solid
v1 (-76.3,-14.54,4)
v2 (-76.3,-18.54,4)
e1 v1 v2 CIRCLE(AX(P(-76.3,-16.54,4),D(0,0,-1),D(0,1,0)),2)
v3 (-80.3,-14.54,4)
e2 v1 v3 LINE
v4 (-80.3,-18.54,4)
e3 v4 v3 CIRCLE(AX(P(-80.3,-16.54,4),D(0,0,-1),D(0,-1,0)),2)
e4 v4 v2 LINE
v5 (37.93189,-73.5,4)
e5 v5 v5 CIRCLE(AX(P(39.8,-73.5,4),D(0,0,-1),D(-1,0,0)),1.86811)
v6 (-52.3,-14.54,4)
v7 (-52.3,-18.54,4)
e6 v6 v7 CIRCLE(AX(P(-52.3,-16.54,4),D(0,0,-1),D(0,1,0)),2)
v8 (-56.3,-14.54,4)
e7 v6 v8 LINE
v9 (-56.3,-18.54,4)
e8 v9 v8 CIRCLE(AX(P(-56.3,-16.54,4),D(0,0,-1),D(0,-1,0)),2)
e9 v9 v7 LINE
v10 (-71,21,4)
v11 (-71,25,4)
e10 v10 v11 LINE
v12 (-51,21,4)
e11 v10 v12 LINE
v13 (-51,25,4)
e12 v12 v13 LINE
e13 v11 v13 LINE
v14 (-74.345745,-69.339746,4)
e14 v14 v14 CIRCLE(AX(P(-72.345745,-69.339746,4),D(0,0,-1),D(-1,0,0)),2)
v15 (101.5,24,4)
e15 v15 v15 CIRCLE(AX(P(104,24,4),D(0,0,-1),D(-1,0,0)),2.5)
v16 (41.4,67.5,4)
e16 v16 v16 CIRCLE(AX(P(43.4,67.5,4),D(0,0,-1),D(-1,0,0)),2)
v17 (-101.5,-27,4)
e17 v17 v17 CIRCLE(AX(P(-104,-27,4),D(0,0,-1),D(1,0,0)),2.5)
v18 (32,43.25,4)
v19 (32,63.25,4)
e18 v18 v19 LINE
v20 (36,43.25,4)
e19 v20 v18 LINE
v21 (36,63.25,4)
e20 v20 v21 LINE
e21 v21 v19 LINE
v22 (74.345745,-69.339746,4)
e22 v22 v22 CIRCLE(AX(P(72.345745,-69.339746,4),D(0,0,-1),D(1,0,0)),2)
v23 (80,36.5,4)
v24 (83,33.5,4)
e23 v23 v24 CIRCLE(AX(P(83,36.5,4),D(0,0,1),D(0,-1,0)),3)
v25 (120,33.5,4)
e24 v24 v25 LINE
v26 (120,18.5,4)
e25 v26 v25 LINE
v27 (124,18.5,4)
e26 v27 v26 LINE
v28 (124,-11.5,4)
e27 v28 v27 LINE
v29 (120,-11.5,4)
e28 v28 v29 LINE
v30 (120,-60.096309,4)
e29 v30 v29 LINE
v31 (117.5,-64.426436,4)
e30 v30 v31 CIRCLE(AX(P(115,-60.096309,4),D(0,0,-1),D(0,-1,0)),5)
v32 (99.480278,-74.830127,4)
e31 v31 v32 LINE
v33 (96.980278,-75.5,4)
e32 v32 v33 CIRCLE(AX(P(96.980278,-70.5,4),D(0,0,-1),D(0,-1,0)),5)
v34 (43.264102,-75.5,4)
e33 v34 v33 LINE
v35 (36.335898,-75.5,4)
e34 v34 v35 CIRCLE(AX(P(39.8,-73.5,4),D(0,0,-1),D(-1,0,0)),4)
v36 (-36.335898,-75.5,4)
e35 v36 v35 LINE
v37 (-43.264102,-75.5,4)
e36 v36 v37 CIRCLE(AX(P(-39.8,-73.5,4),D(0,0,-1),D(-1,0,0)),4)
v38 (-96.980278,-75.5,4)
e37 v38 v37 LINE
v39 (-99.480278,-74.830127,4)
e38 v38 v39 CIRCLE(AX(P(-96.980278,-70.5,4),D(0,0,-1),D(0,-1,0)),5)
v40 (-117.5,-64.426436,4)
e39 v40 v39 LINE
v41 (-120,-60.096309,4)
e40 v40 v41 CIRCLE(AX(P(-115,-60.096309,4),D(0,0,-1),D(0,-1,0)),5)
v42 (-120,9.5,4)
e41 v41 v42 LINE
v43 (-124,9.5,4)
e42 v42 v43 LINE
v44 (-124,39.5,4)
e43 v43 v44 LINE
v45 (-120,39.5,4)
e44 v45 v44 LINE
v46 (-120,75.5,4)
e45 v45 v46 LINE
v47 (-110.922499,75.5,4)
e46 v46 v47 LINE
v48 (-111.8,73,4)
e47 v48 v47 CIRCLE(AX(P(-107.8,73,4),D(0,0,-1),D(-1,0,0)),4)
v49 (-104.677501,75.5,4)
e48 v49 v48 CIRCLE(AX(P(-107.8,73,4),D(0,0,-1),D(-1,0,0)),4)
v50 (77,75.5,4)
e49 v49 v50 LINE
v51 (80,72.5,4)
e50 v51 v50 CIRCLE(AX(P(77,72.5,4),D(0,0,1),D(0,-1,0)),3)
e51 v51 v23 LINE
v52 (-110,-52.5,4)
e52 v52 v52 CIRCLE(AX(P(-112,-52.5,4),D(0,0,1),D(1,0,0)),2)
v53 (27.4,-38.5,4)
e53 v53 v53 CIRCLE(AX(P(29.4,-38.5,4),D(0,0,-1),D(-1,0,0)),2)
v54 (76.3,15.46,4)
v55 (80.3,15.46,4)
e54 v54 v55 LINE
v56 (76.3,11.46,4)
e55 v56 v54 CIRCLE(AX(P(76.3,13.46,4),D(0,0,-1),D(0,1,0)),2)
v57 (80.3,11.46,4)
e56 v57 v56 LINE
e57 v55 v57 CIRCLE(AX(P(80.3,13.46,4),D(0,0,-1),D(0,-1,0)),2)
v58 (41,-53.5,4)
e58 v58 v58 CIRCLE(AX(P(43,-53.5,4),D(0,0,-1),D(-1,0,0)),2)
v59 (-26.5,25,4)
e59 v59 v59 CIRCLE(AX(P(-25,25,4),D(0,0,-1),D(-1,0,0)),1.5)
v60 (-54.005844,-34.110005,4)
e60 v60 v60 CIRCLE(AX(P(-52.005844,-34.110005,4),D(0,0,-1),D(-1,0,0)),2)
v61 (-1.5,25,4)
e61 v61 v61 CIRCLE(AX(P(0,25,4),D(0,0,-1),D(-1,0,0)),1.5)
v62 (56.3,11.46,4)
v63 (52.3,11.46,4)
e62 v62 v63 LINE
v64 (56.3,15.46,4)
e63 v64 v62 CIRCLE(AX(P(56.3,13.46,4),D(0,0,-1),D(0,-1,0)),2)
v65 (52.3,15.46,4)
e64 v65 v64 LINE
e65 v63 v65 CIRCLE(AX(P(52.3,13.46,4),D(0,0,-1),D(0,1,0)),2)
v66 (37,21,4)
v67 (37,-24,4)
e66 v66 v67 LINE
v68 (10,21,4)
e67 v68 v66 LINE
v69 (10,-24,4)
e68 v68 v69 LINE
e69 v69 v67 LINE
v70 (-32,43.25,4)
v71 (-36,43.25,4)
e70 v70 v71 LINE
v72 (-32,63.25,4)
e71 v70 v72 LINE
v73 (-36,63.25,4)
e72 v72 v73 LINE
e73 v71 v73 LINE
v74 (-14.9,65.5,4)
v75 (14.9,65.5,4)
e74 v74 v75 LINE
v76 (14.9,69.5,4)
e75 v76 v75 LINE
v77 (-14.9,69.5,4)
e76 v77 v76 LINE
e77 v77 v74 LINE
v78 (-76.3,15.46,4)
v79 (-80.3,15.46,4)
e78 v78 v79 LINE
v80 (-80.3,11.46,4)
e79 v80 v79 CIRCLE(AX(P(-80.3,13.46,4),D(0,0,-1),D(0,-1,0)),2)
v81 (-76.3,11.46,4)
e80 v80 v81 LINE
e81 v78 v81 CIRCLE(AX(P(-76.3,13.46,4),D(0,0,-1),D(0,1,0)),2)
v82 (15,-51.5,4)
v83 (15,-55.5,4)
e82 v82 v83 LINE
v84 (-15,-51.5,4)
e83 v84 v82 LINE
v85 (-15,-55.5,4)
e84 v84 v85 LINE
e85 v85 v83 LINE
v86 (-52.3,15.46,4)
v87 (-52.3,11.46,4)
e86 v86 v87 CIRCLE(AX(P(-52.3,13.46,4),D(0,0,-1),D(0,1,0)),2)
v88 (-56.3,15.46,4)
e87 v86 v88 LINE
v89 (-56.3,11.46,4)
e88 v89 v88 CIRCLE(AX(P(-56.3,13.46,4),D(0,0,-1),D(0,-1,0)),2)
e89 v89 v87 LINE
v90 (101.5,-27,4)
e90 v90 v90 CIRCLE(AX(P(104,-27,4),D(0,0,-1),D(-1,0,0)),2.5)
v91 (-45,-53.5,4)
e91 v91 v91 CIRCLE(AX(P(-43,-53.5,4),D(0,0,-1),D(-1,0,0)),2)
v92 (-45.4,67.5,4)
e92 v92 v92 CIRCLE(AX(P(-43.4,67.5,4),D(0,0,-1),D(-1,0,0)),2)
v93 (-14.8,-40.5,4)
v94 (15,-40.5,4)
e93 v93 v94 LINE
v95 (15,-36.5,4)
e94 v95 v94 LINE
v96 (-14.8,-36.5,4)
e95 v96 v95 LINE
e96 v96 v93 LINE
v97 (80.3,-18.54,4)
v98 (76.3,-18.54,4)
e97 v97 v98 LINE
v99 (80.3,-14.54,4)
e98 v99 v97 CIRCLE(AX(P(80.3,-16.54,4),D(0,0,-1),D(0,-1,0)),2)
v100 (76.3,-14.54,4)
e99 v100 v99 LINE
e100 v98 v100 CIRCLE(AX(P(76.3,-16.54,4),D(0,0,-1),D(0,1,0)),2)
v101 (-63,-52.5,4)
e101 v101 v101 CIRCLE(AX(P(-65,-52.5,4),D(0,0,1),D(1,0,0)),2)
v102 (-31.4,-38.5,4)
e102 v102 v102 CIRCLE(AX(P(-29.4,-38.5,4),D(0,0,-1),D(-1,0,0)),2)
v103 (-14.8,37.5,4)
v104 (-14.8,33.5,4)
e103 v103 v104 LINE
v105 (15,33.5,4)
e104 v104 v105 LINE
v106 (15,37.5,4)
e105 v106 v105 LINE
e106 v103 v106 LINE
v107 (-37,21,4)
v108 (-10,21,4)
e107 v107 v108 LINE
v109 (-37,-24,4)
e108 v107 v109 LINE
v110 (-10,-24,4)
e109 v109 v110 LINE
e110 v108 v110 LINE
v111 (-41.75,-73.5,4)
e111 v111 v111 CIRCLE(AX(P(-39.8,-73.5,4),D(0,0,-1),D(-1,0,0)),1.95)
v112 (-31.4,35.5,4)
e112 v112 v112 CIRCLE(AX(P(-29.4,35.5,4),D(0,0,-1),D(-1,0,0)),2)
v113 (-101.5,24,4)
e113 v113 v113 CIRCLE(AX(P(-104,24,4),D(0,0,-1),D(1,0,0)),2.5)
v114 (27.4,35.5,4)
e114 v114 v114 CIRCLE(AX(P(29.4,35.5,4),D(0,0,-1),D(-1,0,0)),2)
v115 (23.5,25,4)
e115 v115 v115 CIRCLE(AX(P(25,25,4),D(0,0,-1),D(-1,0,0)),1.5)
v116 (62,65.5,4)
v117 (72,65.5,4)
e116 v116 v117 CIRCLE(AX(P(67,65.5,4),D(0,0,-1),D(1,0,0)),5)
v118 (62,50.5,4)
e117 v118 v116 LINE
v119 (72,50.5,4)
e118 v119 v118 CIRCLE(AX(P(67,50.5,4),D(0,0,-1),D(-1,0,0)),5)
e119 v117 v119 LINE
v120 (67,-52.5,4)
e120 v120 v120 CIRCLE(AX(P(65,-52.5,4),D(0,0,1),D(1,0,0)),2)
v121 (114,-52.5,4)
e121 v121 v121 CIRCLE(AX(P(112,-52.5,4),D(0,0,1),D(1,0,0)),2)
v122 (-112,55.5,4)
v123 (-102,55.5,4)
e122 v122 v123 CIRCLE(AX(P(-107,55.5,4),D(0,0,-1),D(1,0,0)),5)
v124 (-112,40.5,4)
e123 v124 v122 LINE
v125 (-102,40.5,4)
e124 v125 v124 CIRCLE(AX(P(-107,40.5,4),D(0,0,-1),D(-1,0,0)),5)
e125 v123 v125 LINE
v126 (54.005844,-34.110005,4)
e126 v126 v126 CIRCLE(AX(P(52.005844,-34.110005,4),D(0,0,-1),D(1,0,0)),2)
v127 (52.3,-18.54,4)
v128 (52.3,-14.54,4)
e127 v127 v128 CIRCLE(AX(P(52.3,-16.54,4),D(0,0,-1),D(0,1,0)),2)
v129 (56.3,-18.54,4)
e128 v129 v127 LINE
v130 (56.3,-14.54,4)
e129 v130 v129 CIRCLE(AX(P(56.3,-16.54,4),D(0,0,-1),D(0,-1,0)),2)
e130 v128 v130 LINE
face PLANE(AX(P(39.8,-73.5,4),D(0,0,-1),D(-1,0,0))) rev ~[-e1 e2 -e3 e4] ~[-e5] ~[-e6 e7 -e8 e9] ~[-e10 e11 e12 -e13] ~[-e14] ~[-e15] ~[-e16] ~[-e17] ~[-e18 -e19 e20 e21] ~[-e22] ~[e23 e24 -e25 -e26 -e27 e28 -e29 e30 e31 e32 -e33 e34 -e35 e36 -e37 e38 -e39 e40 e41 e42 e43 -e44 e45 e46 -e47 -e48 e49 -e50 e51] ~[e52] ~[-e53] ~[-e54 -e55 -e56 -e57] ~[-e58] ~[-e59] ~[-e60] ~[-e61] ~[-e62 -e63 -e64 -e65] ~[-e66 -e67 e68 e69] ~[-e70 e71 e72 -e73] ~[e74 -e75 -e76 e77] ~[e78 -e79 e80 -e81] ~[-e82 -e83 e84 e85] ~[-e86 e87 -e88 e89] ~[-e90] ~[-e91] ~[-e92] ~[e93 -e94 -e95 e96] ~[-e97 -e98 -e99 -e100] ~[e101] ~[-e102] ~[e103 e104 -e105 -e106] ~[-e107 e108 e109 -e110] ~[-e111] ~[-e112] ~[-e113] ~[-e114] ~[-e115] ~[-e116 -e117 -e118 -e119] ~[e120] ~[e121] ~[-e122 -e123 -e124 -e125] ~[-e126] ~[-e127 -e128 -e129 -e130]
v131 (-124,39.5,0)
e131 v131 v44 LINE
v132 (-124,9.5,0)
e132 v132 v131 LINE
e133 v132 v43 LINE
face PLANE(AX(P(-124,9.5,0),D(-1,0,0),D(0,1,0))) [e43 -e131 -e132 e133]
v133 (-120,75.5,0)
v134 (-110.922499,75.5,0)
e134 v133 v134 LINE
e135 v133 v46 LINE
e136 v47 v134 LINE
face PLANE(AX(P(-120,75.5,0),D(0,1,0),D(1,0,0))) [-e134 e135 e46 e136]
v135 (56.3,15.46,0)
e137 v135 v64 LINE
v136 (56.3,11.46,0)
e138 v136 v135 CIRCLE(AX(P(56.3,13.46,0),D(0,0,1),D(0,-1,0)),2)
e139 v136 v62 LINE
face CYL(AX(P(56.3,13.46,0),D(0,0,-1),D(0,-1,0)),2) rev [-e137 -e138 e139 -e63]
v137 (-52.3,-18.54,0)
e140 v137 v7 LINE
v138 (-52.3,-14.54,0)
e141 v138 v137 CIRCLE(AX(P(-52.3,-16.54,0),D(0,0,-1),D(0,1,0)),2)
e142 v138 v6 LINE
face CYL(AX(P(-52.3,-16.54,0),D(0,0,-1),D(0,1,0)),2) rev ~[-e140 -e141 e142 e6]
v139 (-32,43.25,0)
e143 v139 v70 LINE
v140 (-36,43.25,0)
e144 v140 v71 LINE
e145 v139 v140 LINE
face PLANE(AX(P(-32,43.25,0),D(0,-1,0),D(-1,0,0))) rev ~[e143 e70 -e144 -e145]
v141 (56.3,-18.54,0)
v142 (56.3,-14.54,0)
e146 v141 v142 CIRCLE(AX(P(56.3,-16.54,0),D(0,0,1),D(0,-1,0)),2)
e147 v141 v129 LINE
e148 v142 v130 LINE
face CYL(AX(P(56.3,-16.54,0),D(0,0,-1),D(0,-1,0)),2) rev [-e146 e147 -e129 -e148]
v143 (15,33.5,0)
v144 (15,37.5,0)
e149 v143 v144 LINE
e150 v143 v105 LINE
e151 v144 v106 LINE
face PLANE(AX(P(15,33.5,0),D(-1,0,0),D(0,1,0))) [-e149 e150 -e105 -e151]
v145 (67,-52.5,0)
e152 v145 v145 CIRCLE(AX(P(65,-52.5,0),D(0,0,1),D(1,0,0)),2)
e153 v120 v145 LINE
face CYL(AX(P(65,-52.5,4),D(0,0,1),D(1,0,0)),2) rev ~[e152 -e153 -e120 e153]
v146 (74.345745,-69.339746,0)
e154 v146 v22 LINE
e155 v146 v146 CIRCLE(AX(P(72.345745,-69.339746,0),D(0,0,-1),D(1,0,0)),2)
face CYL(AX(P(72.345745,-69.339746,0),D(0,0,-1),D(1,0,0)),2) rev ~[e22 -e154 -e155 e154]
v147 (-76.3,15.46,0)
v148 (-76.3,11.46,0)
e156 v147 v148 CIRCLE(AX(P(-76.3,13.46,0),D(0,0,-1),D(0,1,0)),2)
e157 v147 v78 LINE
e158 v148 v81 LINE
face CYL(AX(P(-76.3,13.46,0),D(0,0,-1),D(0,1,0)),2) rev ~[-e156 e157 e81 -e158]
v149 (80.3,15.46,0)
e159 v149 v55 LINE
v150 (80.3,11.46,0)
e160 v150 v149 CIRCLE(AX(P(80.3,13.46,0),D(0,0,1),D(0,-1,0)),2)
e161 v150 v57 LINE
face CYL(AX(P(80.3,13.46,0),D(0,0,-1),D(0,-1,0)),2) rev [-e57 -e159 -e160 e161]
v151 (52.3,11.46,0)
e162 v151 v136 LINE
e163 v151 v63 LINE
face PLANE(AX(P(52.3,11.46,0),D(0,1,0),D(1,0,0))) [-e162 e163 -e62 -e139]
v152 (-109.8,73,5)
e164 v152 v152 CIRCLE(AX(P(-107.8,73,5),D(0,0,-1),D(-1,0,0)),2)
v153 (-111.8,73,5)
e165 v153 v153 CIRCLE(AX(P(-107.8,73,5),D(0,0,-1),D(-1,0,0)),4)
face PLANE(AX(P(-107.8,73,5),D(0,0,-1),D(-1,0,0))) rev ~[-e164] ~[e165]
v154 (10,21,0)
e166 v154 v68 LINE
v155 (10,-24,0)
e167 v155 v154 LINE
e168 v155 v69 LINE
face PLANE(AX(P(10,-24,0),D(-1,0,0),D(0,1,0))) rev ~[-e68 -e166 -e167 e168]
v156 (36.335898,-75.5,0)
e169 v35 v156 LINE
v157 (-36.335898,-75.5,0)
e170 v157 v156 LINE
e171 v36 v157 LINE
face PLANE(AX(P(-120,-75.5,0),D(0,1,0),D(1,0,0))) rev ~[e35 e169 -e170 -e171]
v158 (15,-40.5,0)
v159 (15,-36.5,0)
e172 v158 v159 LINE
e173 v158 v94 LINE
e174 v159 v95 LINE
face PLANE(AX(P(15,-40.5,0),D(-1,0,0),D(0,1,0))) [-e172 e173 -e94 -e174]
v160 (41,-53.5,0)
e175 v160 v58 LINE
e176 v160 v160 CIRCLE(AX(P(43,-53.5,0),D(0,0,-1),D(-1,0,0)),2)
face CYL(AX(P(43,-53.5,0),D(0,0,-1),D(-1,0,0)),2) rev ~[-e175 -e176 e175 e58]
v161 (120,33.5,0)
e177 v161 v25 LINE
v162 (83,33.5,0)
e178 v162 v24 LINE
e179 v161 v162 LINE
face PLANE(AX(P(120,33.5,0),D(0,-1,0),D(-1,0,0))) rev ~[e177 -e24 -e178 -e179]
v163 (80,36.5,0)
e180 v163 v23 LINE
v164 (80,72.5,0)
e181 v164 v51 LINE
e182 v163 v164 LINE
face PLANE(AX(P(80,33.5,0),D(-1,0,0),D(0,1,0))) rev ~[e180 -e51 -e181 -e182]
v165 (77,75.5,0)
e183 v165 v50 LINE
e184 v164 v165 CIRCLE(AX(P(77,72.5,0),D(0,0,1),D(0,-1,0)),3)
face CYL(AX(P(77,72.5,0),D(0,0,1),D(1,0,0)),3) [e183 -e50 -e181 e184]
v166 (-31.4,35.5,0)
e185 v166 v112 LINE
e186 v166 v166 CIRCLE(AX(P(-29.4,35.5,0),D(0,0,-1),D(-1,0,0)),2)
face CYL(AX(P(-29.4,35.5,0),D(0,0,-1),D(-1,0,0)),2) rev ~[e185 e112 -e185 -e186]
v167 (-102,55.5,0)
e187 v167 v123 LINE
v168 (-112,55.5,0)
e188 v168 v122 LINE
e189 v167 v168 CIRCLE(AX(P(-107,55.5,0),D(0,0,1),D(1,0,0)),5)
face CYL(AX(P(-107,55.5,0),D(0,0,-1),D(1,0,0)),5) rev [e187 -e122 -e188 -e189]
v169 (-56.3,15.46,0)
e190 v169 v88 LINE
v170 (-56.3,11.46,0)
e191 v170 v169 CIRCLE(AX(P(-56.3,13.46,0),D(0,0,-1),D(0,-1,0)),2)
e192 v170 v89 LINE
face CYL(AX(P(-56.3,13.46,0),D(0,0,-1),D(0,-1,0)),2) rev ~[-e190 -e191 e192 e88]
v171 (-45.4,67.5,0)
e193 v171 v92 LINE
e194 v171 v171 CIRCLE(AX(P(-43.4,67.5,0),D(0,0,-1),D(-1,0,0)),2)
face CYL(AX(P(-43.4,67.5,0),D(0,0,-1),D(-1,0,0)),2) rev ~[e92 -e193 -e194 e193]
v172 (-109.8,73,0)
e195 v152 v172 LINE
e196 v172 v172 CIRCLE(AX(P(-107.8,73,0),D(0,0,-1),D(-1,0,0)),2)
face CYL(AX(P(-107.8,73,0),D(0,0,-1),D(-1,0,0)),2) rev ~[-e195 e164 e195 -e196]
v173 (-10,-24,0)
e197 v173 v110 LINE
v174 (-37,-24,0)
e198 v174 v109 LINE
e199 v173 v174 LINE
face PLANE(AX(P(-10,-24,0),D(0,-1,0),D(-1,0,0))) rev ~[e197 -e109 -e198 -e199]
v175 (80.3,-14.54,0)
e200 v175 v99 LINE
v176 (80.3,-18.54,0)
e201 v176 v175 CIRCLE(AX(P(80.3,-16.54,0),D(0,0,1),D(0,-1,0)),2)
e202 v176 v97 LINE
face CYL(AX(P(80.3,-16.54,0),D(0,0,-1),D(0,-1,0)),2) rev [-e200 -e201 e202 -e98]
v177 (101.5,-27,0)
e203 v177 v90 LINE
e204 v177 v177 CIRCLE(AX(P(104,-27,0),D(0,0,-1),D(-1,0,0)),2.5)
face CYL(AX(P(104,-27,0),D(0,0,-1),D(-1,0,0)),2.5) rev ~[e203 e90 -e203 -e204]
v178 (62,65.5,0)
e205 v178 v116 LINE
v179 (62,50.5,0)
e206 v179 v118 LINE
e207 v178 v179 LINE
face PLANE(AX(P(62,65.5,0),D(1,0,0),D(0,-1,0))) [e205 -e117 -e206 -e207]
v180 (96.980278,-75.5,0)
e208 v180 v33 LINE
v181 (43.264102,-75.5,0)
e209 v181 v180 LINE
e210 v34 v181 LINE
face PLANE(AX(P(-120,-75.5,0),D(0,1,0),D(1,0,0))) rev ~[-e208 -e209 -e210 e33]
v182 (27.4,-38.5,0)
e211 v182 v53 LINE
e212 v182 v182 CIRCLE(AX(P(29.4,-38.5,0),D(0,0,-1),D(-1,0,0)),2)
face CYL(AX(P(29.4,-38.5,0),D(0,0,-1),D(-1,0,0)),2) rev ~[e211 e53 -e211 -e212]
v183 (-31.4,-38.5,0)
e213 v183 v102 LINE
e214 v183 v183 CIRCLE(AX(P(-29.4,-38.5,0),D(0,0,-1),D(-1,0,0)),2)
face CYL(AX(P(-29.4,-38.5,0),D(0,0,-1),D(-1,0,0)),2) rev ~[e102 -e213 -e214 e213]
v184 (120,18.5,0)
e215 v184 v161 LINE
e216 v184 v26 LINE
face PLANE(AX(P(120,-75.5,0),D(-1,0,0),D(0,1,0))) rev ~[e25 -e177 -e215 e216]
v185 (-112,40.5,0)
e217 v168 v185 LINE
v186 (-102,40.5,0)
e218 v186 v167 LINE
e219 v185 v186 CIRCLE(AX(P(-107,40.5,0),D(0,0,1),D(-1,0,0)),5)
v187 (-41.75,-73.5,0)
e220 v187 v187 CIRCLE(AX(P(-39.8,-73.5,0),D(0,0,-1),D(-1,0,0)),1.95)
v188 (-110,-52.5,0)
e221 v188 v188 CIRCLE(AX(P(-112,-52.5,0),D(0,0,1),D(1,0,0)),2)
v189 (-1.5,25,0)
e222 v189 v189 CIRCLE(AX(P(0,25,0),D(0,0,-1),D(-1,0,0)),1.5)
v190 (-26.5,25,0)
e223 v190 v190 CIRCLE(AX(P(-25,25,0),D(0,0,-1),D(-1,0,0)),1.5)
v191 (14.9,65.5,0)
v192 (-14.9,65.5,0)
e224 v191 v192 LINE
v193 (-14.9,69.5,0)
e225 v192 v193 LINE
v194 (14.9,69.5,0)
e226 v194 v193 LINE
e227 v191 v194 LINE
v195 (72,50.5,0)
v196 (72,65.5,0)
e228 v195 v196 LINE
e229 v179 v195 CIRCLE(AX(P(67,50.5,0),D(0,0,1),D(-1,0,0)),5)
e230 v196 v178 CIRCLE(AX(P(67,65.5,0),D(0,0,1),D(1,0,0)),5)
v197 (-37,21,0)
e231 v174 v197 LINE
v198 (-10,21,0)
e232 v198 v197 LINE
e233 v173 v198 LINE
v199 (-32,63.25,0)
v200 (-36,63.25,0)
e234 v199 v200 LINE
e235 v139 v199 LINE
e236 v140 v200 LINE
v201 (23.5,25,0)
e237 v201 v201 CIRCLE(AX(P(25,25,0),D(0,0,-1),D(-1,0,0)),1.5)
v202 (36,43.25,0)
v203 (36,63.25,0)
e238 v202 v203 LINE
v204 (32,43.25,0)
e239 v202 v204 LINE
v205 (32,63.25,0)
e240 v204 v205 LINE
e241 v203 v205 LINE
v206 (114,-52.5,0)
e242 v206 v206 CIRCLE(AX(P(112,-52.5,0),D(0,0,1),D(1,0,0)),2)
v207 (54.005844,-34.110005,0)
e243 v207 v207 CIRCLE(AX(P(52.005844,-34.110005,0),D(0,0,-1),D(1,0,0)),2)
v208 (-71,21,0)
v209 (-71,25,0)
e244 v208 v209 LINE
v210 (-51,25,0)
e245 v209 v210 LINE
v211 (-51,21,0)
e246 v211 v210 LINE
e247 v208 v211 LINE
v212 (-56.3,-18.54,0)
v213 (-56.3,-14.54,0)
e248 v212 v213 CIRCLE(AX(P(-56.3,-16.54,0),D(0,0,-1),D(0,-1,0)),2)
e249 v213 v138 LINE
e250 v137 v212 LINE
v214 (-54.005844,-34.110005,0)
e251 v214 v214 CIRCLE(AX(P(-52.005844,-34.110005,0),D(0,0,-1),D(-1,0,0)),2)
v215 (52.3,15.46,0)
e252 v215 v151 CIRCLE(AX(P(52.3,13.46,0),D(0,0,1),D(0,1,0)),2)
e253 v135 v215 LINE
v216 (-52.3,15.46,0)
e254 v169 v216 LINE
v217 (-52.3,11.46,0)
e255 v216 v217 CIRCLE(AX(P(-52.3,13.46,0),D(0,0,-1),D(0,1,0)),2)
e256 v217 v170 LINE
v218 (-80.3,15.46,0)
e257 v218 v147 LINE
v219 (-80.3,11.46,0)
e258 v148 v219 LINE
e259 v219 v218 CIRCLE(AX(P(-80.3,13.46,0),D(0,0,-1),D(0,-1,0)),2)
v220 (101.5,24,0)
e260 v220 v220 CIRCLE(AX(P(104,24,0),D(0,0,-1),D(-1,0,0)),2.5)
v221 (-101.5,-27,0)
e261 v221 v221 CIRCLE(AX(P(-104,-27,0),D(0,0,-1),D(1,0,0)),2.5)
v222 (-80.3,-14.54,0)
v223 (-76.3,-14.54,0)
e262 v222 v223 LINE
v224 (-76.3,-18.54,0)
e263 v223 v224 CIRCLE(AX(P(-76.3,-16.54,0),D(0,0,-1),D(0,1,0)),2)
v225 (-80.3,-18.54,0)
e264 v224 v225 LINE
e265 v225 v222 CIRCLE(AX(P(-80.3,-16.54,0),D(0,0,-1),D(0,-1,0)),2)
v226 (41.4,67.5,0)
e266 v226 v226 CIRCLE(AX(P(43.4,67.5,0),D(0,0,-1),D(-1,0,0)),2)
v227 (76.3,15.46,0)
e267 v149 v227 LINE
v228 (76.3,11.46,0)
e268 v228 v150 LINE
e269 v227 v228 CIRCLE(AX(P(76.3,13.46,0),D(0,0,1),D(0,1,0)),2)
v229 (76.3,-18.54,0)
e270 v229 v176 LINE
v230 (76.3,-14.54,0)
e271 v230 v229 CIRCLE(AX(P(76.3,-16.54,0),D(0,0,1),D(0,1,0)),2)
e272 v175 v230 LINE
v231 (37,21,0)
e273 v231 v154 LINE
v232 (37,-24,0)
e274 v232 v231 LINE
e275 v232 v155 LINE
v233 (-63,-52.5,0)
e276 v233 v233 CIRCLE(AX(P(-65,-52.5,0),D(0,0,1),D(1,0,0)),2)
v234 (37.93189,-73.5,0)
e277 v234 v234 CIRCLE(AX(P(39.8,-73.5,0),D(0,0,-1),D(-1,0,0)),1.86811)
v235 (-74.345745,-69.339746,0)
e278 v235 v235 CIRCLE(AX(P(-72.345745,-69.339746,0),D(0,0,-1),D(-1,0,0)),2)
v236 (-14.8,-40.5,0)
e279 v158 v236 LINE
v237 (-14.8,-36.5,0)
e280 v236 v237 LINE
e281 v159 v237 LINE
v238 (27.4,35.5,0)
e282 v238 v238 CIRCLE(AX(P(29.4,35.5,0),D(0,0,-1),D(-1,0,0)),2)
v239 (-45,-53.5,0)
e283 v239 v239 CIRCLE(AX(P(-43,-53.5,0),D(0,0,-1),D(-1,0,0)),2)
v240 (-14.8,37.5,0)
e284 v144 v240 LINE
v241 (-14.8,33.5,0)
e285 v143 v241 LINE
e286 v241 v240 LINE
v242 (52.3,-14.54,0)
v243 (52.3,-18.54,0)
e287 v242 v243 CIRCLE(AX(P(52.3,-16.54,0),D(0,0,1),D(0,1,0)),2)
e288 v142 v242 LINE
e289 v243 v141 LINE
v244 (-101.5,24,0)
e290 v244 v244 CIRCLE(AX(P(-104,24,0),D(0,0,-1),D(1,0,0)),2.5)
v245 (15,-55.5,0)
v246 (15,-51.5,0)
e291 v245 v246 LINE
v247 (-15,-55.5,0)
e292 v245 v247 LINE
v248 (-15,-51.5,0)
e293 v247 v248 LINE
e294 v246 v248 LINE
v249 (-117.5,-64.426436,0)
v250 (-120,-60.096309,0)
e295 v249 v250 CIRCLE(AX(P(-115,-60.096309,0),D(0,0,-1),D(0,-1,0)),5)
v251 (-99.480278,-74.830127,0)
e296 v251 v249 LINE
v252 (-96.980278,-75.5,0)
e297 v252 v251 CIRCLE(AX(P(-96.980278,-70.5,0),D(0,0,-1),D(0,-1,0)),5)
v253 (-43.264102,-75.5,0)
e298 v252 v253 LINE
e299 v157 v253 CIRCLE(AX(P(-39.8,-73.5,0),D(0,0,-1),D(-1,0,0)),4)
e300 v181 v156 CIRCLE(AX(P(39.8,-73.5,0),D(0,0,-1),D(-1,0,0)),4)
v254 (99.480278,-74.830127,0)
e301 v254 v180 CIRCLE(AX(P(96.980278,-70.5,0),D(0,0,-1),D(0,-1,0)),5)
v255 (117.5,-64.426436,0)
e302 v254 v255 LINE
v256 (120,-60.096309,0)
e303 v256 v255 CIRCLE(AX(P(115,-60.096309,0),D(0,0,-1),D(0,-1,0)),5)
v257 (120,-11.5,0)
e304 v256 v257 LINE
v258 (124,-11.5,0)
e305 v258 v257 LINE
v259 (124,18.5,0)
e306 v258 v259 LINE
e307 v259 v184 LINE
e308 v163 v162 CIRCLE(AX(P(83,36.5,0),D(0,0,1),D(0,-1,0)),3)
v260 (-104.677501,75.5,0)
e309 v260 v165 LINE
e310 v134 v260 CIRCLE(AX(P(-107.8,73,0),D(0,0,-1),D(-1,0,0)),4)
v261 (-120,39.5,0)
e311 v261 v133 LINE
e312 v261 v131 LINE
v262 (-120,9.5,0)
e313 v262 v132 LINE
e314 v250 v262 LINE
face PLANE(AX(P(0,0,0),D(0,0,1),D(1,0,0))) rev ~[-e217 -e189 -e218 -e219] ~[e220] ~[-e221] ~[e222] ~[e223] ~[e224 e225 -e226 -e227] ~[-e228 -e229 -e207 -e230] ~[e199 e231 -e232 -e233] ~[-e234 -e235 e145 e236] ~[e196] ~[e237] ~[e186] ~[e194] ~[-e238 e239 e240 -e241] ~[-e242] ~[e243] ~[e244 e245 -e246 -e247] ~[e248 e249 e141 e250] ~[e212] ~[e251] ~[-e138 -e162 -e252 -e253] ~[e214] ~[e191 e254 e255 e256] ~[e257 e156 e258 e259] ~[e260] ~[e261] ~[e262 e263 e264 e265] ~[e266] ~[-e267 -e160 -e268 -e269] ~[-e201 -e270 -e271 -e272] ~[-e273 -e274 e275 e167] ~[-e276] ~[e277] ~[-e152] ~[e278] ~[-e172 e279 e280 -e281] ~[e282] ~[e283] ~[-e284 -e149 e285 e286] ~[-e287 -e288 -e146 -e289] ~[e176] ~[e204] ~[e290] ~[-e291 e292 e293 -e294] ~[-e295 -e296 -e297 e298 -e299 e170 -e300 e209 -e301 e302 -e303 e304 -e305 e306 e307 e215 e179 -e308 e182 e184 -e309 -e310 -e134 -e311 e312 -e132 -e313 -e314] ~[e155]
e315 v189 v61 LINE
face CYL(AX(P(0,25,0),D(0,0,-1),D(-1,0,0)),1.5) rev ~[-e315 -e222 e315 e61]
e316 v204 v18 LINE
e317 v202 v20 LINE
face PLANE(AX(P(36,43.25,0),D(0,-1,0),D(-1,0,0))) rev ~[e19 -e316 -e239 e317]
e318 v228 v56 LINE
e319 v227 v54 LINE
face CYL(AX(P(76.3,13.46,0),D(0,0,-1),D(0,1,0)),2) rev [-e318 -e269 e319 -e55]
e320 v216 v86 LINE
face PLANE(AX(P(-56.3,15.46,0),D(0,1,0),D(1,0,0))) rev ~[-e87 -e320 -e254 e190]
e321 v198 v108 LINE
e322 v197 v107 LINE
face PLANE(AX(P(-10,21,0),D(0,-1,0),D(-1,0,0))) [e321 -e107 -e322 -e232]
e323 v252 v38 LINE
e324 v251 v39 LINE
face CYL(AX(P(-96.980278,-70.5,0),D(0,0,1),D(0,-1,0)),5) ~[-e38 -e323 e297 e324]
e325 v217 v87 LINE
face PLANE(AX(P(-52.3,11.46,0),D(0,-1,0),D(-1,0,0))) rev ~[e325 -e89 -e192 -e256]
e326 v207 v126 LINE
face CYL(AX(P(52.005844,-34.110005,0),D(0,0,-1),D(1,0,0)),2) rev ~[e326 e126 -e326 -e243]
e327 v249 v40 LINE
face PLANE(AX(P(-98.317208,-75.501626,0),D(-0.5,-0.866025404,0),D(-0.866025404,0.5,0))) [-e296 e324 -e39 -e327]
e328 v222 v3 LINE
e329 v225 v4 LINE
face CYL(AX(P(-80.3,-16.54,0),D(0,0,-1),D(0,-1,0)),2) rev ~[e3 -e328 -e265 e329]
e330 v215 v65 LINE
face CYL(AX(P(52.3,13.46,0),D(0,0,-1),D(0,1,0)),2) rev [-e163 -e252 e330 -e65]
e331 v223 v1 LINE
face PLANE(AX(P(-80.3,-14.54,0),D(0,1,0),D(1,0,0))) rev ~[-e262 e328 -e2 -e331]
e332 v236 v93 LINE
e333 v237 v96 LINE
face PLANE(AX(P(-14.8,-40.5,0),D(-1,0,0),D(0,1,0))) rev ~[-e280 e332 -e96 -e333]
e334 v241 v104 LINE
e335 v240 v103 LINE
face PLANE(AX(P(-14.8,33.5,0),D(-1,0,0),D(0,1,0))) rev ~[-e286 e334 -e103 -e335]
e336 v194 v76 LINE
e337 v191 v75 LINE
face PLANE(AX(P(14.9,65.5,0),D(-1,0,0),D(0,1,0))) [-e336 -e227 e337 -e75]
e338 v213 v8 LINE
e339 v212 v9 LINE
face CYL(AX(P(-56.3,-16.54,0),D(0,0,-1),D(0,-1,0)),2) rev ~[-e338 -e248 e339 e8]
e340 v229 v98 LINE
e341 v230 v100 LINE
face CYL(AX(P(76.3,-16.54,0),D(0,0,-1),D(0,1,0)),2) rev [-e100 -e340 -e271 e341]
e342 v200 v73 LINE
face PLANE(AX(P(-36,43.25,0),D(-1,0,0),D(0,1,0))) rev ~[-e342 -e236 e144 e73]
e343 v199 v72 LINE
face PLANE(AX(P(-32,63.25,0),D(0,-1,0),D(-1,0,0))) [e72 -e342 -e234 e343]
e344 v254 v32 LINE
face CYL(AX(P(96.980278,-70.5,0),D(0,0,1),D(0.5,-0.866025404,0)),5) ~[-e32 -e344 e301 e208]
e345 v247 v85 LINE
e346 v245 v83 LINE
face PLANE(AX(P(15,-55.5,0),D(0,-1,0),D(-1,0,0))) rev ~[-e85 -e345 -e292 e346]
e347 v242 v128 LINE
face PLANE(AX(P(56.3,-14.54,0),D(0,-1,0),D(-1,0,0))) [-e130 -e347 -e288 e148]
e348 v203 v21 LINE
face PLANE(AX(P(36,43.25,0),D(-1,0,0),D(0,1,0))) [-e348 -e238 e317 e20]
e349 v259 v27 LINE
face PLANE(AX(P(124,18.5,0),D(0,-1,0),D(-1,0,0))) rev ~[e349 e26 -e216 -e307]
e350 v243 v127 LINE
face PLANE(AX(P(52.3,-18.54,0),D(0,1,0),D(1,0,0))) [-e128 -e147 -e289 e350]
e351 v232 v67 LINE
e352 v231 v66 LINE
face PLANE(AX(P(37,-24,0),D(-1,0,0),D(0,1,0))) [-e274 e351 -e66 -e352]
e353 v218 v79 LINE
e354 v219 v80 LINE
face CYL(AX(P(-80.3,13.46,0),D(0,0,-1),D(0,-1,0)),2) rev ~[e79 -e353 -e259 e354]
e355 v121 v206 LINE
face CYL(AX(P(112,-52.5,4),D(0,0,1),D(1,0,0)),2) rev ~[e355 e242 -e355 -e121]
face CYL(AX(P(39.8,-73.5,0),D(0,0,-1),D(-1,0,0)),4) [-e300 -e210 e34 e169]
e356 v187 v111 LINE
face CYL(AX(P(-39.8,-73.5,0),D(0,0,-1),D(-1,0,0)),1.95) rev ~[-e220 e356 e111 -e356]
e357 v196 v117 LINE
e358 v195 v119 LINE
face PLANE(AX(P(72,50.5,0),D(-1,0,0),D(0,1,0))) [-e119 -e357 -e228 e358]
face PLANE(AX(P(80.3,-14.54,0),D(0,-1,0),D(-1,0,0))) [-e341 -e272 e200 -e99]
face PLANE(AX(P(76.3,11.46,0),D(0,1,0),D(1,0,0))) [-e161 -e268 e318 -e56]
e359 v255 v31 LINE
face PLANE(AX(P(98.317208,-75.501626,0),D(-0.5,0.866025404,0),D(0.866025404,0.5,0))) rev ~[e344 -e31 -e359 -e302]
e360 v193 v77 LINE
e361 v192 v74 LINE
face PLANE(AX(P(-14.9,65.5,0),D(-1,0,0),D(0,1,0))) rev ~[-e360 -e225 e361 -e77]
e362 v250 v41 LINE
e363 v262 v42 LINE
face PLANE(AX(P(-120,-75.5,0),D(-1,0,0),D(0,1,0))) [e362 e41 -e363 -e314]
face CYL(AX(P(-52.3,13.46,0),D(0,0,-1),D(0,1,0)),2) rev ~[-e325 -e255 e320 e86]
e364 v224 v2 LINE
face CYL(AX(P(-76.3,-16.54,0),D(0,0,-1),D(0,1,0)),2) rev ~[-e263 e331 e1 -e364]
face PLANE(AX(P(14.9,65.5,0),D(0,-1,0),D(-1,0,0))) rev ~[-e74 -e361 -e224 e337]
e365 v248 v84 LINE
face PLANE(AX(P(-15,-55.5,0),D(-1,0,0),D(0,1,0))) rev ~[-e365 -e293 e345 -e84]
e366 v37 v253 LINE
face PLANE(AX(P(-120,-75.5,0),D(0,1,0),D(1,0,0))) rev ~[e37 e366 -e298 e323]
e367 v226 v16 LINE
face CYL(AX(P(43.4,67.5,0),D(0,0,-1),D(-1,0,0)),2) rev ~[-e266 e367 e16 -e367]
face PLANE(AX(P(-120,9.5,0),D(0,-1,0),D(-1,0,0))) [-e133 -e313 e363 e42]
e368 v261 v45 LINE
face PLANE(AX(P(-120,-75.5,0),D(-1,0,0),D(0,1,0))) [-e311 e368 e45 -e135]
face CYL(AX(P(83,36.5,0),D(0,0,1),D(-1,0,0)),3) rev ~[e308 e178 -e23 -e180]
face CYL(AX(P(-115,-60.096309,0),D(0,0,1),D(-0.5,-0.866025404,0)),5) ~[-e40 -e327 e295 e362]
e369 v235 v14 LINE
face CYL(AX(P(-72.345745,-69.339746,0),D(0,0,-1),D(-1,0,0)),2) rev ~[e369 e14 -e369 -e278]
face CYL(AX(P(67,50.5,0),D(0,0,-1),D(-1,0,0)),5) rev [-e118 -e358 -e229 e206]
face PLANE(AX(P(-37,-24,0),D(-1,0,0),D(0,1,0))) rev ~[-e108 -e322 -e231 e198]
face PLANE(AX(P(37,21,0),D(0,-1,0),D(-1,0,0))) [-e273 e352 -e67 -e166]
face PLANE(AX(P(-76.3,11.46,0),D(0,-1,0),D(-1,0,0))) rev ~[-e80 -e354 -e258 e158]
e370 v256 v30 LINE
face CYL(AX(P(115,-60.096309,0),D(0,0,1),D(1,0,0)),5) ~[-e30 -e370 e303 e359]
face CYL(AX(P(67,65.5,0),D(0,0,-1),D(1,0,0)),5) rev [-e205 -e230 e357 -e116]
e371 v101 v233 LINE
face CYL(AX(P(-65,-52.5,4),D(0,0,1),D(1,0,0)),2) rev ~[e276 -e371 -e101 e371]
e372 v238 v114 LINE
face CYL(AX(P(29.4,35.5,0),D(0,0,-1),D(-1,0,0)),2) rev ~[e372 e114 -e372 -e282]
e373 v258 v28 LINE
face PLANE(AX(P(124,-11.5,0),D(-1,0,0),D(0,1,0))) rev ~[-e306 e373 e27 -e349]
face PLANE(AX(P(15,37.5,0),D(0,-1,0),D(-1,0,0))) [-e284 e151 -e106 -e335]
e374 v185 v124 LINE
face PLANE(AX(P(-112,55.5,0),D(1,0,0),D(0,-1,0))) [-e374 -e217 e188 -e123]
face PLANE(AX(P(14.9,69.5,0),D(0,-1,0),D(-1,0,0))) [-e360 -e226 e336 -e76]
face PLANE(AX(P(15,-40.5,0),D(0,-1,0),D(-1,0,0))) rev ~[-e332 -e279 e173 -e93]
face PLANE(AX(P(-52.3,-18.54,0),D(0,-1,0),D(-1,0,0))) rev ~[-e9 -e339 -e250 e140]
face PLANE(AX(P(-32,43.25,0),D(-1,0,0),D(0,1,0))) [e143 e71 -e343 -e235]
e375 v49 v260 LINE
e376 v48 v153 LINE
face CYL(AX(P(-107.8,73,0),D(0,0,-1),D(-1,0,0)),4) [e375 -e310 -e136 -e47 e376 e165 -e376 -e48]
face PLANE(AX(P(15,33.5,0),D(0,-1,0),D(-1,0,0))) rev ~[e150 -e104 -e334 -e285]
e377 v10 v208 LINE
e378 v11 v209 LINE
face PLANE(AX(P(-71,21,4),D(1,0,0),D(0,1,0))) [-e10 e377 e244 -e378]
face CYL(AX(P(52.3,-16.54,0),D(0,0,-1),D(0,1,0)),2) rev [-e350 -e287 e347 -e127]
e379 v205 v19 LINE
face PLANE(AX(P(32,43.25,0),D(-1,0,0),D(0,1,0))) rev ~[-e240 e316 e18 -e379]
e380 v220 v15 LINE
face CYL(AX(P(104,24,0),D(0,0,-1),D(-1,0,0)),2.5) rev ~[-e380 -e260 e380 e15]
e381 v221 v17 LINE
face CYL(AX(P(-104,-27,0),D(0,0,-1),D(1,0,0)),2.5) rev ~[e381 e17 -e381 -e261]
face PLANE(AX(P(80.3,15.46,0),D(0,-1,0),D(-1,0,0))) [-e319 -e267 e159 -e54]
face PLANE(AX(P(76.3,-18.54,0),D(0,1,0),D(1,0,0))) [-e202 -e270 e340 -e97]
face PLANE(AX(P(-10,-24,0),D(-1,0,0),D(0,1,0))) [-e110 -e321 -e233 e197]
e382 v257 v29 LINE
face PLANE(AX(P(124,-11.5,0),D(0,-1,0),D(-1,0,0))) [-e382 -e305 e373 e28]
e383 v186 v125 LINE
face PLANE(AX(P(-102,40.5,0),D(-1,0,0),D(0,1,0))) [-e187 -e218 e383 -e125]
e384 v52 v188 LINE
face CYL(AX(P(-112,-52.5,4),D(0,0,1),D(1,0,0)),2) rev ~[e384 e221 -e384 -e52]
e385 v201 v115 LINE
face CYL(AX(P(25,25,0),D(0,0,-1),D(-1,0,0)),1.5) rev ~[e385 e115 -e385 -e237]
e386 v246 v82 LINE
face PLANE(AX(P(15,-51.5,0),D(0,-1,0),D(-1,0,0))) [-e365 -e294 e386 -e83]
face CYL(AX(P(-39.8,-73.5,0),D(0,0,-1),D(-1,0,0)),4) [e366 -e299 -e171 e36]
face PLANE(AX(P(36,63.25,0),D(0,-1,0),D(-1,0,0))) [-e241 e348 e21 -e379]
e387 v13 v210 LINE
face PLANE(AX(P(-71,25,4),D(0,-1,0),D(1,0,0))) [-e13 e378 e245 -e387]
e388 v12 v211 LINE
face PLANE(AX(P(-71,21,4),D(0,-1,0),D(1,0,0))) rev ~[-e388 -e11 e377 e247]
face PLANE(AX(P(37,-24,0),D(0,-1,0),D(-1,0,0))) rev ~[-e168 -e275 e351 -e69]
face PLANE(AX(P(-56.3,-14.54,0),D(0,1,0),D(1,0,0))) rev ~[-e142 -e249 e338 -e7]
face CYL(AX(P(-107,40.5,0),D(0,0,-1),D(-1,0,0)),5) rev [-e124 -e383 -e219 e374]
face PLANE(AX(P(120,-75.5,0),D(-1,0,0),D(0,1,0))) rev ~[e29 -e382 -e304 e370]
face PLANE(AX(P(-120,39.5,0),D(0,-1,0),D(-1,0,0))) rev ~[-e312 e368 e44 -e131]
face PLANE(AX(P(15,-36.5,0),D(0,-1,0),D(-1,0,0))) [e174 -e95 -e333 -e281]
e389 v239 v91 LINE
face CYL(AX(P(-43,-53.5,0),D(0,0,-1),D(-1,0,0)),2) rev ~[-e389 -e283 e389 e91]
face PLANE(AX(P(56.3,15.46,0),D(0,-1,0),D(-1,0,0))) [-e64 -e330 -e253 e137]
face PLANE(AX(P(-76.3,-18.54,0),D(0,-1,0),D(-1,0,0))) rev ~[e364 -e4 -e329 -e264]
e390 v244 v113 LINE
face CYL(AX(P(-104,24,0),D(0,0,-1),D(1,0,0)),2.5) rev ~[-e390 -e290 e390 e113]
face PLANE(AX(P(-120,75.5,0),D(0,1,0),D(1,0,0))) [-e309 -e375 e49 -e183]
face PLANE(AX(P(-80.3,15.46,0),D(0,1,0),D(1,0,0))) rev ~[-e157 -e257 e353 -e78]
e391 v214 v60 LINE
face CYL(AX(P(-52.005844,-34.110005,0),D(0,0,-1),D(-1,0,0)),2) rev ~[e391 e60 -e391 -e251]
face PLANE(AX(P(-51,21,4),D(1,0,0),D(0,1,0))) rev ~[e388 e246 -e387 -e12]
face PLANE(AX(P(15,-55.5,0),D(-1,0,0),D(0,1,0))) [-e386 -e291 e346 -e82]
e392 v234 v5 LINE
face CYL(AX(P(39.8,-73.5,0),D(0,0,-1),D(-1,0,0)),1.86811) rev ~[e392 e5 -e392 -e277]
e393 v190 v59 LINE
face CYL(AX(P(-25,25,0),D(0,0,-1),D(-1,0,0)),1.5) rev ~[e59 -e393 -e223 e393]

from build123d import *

# Parameters (mm, degrees)
SKETCH1_W           = 240
SKETCH1_H           = 151
BOSS_EXTRUDE1_DEPTH = 4
SKETCH2_W           = 27
SKETCH2_H           = 45
CUT_EXTRUDE1_DEPTH  = 10
CUT_EXTRUDE10_DEPTH = 5
SKETCH15_R          = 2.5
CUT_EXTRUDE11_DEPTH = 10
SKETCH27_R          = 1.5
CUT_EXTRUDE20_DEPTH = 10
SKETCH28_R          = 2
CUT_EXTRUDE21_DEPTH = 10
SKETCH31_R          = 2
CUT_EXTRUDE24_DEPTH = 10
SKETCH32_R          = 2
CUT_EXTRUDE25_DEPTH = 10
SKETCH34_W          = 40
SKETCH34_H          = 42
CUT_EXTRUDE26_DEPTH = 10
CUT_EXTRUDE28_DEPTH = 10
SKETCH39_R          = 2
CUT_EXTRUDE31_DEPTH = 5
SKETCH40_R          = 4
SKETCH40_R_2        = 2
BOSS_EXTRUDE6_DEPTH = 5
FILLET1_R           = 3
SKETCH43_W          = 4
SKETCH43_H          = 30
BOSS_EXTRUDE8_DEPTH = 4
FILLET2_R           = 3
CUT_EXTRUDE33_DEPTH = 10
FILLET4_R           = 5
CUT_EXTRUDE34_DEPTH = 5
SKETCH46_W          = 30
SKETCH46_H          = 4
SKETCH46_W_2        = 29.8
CUT_EXTRUDE35_DEPTH = 10
SKETCH47_R          = 2
CUT_EXTRUDE36_DEPTH = 10
SKETCH48_R          = 1.995
CUT_EXTRUDE37_DEPTH = 10
SKETCH49_R          = 4
SKETCH49_R_2        = 1.868109978
SKETCH49_R_3        = 1.95
BOSS_EXTRUDE9_DEPTH = 4
SKETCH50_W          = 20
SKETCH50_H          = 4
CUT_EXTRUDE38_DEPTH = 10
SKETCH51_W          = 4
SKETCH51_H          = 20
CUT_EXTRUDE39_DEPTH = 10


with BuildPart() as part:
    # Sketch1 → Boss-Extrude1 (new body)
    with BuildSketch(Plane.XY):
        Rectangle(SKETCH1_W, SKETCH1_H)
    extrude(amount=BOSS_EXTRUDE1_DEPTH)

    # Sketch2 → Cut-Extrude1 (cut)
    with BuildSketch(Plane(origin=(0, 0, 0), x_dir=(-1, 0, 0), z_dir=(0, 0, -1))):
        with Locations((23.5, -1.5)):
            Rectangle(SKETCH2_W, SKETCH2_H)
        with Locations((-23.5, -1.5)):
            Rectangle(SKETCH2_W, SKETCH2_H)
    extrude(amount=-CUT_EXTRUDE1_DEPTH, mode=Mode.SUBTRACT)

    # Sketch14 → Cut-Extrude10 (cut)
    with BuildSketch(Plane(origin=(0, 0, 0), x_dir=(-1, 0, 0), z_dir=(0, 0, -1))):
        with BuildLine():
            Line((-56.3, 15.46), (-52.3, 15.46))
            ThreePointArc((-52.3, 15.46), (-50.3, 13.46), (-52.3, 11.46))
            Line((-52.3, 11.46), (-56.3, 11.46))
            ThreePointArc((-56.3, 11.46), (-58.3, 13.46), (-56.3, 15.46))
        make_face()
        with BuildLine():
            Line((-80.3, 15.46), (-76.3, 15.46))
            ThreePointArc((-76.3, 15.46), (-74.3, 13.46), (-76.3, 11.46))
            Line((-76.3, 11.46), (-80.3, 11.46))
            ThreePointArc((-80.3, 11.46), (-82.3, 13.46), (-80.3, 15.46))
        make_face()
        with BuildLine():
            Line((-80.3, -14.54), (-76.3, -14.54))
            ThreePointArc((-76.3, -14.54), (-74.3, -16.54), (-76.3, -18.54))
            Line((-76.3, -18.54), (-80.3, -18.54))
            ThreePointArc((-80.3, -18.54), (-82.3, -16.54), (-80.3, -14.54))
        make_face()
        with BuildLine():
            Line((-56.3, -14.54), (-52.3, -14.54))
            ThreePointArc((-52.3, -14.54), (-50.3, -16.54), (-52.3, -18.54))
            Line((-52.3, -18.54), (-56.3, -18.54))
            ThreePointArc((-56.3, -18.54), (-58.3, -16.54), (-56.3, -14.54))
        make_face()
        with BuildLine():
            Line((56.3, -14.54), (52.3, -14.54))
            ThreePointArc((52.3, -14.54), (50.3, -16.54), (52.3, -18.54))
            Line((52.3, -18.54), (56.3, -18.54))
            ThreePointArc((56.3, -18.54), (58.3, -16.54), (56.3, -14.54))
        make_face()
        with BuildLine():
            Line((80.3, -14.54), (76.3, -14.54))
            ThreePointArc((76.3, -14.54), (74.3, -16.54), (76.3, -18.54))
            Line((76.3, -18.54), (80.3, -18.54))
            ThreePointArc((80.3, -18.54), (82.3, -16.54), (80.3, -14.54))
        make_face()
        with BuildLine():
            Line((80.3, 15.46), (76.3, 15.46))
            ThreePointArc((76.3, 15.46), (74.3, 13.46), (76.3, 11.46))
            Line((76.3, 11.46), (80.3, 11.46))
            ThreePointArc((80.3, 11.46), (82.3, 13.46), (80.3, 15.46))
        make_face()
        with BuildLine():
            Line((56.3, 15.46), (52.3, 15.46))
            ThreePointArc((52.3, 15.46), (50.3, 13.46), (52.3, 11.46))
            Line((52.3, 11.46), (56.3, 11.46))
            ThreePointArc((56.3, 11.46), (58.3, 13.46), (56.3, 15.46))
        make_face()
    extrude(amount=-CUT_EXTRUDE10_DEPTH, mode=Mode.SUBTRACT)

    # Sketch15 → Cut-Extrude11 (cut)
    with BuildSketch(Plane(origin=(0, 0, 0), x_dir=(-1, 0, 0), z_dir=(0, 0, -1))):
        with Locations((-104, -27)):
            Circle(SKETCH15_R)
        with Locations((-104, 24)):
            Circle(SKETCH15_R)
        with Locations(Location((104, 24, 0), (0, 0, 180))):
            Circle(SKETCH15_R)
        with Locations(Location((104, -27, 0), (0, 0, 180))):
            Circle(SKETCH15_R)
    extrude(amount=-CUT_EXTRUDE11_DEPTH, mode=Mode.SUBTRACT)

    # Sketch27 → Cut-Extrude20 (cut)
    with BuildSketch(Plane(origin=(0, 0, 0), x_dir=(-1, 0, 0), z_dir=(0, 0, -1))):
        with Locations((-25, 25)):
            Circle(SKETCH27_R)
        with Locations((0, 25)):
            Circle(SKETCH27_R)
        with Locations((25, 25)):
            Circle(SKETCH27_R)
    extrude(amount=-CUT_EXTRUDE20_DEPTH, mode=Mode.SUBTRACT)

    # Sketch28 → Cut-Extrude21 (cut)
    with BuildSketch(Plane.XY.offset(4)):
        with Locations((112, -52.5)):
            Circle(SKETCH28_R)
        with Locations((65, -52.5)):
            Circle(SKETCH28_R)
        with Locations((-65, -52.5)):
            Circle(SKETCH28_R)
        with Locations((-112, -52.5)):
            Circle(SKETCH28_R)
    extrude(amount=-CUT_EXTRUDE21_DEPTH, mode=Mode.SUBTRACT)

    # Sketch31 → Cut-Extrude24 (cut)
    with BuildSketch(Plane(origin=(0, 0, 0), x_dir=(-1, 0, 0), z_dir=(0, 0, -1))):
        with Locations((72.345744872, -69.339745962)):
            Circle(SKETCH31_R)
        with Locations(Location((-72.345744872, -69.339745962, 0), (0, 0, 180))):
            Circle(SKETCH31_R)
    extrude(amount=-CUT_EXTRUDE24_DEPTH, mode=Mode.SUBTRACT)

    # Sketch32 → Cut-Extrude25 (cut)
    with BuildSketch(Plane(origin=(0, 0, 0), x_dir=(-1, 0, 0), z_dir=(0, 0, -1))):
        with Locations((52.005844325, -34.1100048)):
            Circle(SKETCH32_R)
        with Locations(Location((-52.005844325, -34.1100048, 0), (0, 0, 180))):
            Circle(SKETCH32_R)
    extrude(amount=-CUT_EXTRUDE25_DEPTH, mode=Mode.SUBTRACT)

    # Sketch34 → Cut-Extrude26 (cut)
    with BuildSketch(Plane(origin=(0, 0, 0), x_dir=(-1, 0, 0), z_dir=(0, 0, -1))):
        with Locations((-100, 54.5)):
            Rectangle(SKETCH34_W, SKETCH34_H)
    extrude(amount=-CUT_EXTRUDE26_DEPTH, mode=Mode.SUBTRACT)

    # Sketch36 → Cut-Extrude28 (cut)
    with BuildSketch(Plane(origin=(0, 0, 0), x_dir=(-1, 0, 0), z_dir=(0, 0, -1))):
        with BuildLine():
            Line((102, 40.5), (102, 55.5))
            ThreePointArc((102, 55.5), (107, 60.5), (112, 55.5))
            Line((112, 55.5), (112, 40.5))
            ThreePointArc((112, 40.5), (107, 35.5), (102, 40.5))
        make_face()
    extrude(amount=-CUT_EXTRUDE28_DEPTH, mode=Mode.SUBTRACT)

    # Sketch39 → Cut-Extrude31 (cut)
    with BuildSketch(Plane(origin=(0, 0, 0), x_dir=(-1, 0, 0), z_dir=(0, 0, -1))):
        with Locations((107.8, 73)):
            Circle(SKETCH39_R)
    extrude(amount=-CUT_EXTRUDE31_DEPTH, mode=Mode.SUBTRACT)

    # Sketch40 → Boss-Extrude6 (add)
    with BuildSketch(Plane(origin=(0, 0, 0), x_dir=(-1, 0, 0), z_dir=(0, 0, -1))):
        with Locations((107.8, 73)):
            Circle(SKETCH40_R)
        with Locations((107.8, 73)):
            Circle(SKETCH40_R_2, mode=Mode.SUBTRACT)
    extrude(amount=-BOSS_EXTRUDE6_DEPTH)

    # Fillet1
    fillet1_edges = [part.edges().sort_by_distance(p)[0] for p in [
        (80, 33.5, 2),
    ]]
    fillet(fillet1_edges, radius=FILLET1_R)

    # Sketch43 → Boss-Extrude8 (add)
    with BuildSketch(Plane(origin=(0, 0, 0), x_dir=(-1, 0, 0), z_dir=(0, 0, -1))):
        with Locations((-122, 3.5)):
            Rectangle(SKETCH43_W, SKETCH43_H)
        with Locations((122, 24.5)):
            Rectangle(SKETCH43_W, SKETCH43_H)
    extrude(amount=-BOSS_EXTRUDE8_DEPTH)

    # Fillet2
    fillet2_edges = [part.edges().sort_by_distance(p)[0] for p in [
        (80, 75.5, 2),
    ]]
    fillet(fillet2_edges, radius=FILLET2_R)

    # Sketch44 → Cut-Extrude33 (cut)
    with BuildSketch(Plane(origin=(0, 0, 0), x_dir=(-1, 0, 0), z_dir=(0, 0, -1))):
        Polygon((-98.317208235, -75.501625548), (-120, -62.983059886), (-120, -75.5), align=None)
        Polygon((98.317208235, -75.501625548), (120, -62.983059886), (120, -75.5), align=None)
    extrude(amount=-CUT_EXTRUDE33_DEPTH, mode=Mode.SUBTRACT)

    # Fillet4
    fillet4_edges = [part.edges().sort_by_distance(p)[0] for p in [
        (98.320023767, -75.5, 2),
        (120, -62.983059886, 2),
        (-98.320023767, -75.5, 2),
        (-120, -62.983059886, 2),
    ]]
    fillet(fillet4_edges, radius=FILLET4_R)

    # Sketch45 → Cut-Extrude34 (cut)
    with BuildSketch(Plane(origin=(0, 0, 0), x_dir=(-1, 0, 0), z_dir=(0, 0, -1))):
        with BuildLine():
            Line((-62, 65.5), (-62, 50.5))
            ThreePointArc((-62, 50.5), (-67, 45.5), (-72, 50.5))
            Line((-72, 50.5), (-72, 65.5))
            ThreePointArc((-72, 65.5), (-67, 70.5), (-62, 65.5))
        make_face()
    extrude(amount=-CUT_EXTRUDE34_DEPTH, mode=Mode.SUBTRACT)

    # Sketch46 → Cut-Extrude35 (cut)
    with BuildSketch(Plane(origin=(0, 0, 0), x_dir=(-1, 0, 0), z_dir=(0, 0, -1))):
        with Locations((0, -53.5)):
            Rectangle(SKETCH46_W, SKETCH46_H)
        with Locations((-0.1, -38.5)):
            Rectangle(SKETCH46_W_2, SKETCH46_H)
        with Locations((-0.1, 35.5)):
            Rectangle(SKETCH46_W_2, SKETCH46_H)
        with Locations((0, 67.5)):
            Rectangle(SKETCH46_W_2, SKETCH46_H)
    extrude(amount=-CUT_EXTRUDE35_DEPTH, mode=Mode.SUBTRACT)

    # Sketch47 → Cut-Extrude36 (cut)
    with BuildSketch(Plane(origin=(0, 0, 0), x_dir=(-1, 0, 0), z_dir=(0, 0, -1))):
        with Locations((29.39999999, 35.5)):
            Circle(SKETCH47_R)
        with Locations((-29.39999999, 35.5)):
            Circle(SKETCH47_R)
        with Locations((-43.4, 67.5)):
            Circle(SKETCH47_R)
        with Locations((43.4, 67.5)):
            Circle(SKETCH47_R)
        with Locations((29.39999999, -38.5)):
            Circle(SKETCH47_R)
        with Locations((-29.39999999, -38.5)):
            Circle(SKETCH47_R)
        with Locations((43, -53.5)):
            Circle(SKETCH47_R)
        with Locations((-43, -53.5)):
            Circle(SKETCH47_R)
    extrude(amount=-CUT_EXTRUDE36_DEPTH, mode=Mode.SUBTRACT)

    # Sketch48 → Cut-Extrude37 (cut)
    with BuildSketch(Plane(origin=(0, 0, 0), x_dir=(-1, 0, 0), z_dir=(0, 0, -1))):
        with Locations((-39.8, -73.5)):
            Circle(SKETCH48_R)
        with Locations((39.8, -73.5)):
            Circle(SKETCH48_R)
    extrude(amount=-CUT_EXTRUDE37_DEPTH, mode=Mode.SUBTRACT)

    # Sketch49 → Boss-Extrude9 (add)
    # profile 1 of 2: a face of its own
    with BuildSketch(Plane(origin=(0, 0, 0), x_dir=(-1, 0, 0), z_dir=(0, 0, -1))):
        with Locations((-39.8, -73.5)):
            Circle(SKETCH49_R)
        with Locations((-39.8, -73.5)):
            Circle(SKETCH49_R_2, mode=Mode.SUBTRACT)
    # profile 2 of 2: a face of its own
    with BuildSketch(Plane(origin=(0, 0, 0), x_dir=(-1, 0, 0), z_dir=(0, 0, -1))):
        with Locations((39.8, -73.5)):
            Circle(SKETCH49_R)
        with Locations((39.8, -73.5)):
            Circle(SKETCH49_R_3, mode=Mode.SUBTRACT)
    extrude(amount=-BOSS_EXTRUDE9_DEPTH)

    # Sketch50 → Cut-Extrude38 (cut)
    with BuildSketch(Plane.XY.offset(4)):
        with Locations((-61, 23)):
            Rectangle(SKETCH50_W, SKETCH50_H)
    extrude(amount=-CUT_EXTRUDE38_DEPTH, mode=Mode.SUBTRACT)

    # Sketch51 → Cut-Extrude39 (cut)
    with BuildSketch(Plane(origin=(0, 0, 0), x_dir=(-1, 0, 0), z_dir=(0, 0, -1))):
        with Locations((-34, 53.25)):
            Rectangle(SKETCH51_W, SKETCH51_H)
        with Locations((34, 53.25)):
            Rectangle(SKETCH51_W, SKETCH51_H)
    extrude(amount=-CUT_EXTRUDE39_DEPTH, mode=Mode.SUBTRACT)


solid = part.part
